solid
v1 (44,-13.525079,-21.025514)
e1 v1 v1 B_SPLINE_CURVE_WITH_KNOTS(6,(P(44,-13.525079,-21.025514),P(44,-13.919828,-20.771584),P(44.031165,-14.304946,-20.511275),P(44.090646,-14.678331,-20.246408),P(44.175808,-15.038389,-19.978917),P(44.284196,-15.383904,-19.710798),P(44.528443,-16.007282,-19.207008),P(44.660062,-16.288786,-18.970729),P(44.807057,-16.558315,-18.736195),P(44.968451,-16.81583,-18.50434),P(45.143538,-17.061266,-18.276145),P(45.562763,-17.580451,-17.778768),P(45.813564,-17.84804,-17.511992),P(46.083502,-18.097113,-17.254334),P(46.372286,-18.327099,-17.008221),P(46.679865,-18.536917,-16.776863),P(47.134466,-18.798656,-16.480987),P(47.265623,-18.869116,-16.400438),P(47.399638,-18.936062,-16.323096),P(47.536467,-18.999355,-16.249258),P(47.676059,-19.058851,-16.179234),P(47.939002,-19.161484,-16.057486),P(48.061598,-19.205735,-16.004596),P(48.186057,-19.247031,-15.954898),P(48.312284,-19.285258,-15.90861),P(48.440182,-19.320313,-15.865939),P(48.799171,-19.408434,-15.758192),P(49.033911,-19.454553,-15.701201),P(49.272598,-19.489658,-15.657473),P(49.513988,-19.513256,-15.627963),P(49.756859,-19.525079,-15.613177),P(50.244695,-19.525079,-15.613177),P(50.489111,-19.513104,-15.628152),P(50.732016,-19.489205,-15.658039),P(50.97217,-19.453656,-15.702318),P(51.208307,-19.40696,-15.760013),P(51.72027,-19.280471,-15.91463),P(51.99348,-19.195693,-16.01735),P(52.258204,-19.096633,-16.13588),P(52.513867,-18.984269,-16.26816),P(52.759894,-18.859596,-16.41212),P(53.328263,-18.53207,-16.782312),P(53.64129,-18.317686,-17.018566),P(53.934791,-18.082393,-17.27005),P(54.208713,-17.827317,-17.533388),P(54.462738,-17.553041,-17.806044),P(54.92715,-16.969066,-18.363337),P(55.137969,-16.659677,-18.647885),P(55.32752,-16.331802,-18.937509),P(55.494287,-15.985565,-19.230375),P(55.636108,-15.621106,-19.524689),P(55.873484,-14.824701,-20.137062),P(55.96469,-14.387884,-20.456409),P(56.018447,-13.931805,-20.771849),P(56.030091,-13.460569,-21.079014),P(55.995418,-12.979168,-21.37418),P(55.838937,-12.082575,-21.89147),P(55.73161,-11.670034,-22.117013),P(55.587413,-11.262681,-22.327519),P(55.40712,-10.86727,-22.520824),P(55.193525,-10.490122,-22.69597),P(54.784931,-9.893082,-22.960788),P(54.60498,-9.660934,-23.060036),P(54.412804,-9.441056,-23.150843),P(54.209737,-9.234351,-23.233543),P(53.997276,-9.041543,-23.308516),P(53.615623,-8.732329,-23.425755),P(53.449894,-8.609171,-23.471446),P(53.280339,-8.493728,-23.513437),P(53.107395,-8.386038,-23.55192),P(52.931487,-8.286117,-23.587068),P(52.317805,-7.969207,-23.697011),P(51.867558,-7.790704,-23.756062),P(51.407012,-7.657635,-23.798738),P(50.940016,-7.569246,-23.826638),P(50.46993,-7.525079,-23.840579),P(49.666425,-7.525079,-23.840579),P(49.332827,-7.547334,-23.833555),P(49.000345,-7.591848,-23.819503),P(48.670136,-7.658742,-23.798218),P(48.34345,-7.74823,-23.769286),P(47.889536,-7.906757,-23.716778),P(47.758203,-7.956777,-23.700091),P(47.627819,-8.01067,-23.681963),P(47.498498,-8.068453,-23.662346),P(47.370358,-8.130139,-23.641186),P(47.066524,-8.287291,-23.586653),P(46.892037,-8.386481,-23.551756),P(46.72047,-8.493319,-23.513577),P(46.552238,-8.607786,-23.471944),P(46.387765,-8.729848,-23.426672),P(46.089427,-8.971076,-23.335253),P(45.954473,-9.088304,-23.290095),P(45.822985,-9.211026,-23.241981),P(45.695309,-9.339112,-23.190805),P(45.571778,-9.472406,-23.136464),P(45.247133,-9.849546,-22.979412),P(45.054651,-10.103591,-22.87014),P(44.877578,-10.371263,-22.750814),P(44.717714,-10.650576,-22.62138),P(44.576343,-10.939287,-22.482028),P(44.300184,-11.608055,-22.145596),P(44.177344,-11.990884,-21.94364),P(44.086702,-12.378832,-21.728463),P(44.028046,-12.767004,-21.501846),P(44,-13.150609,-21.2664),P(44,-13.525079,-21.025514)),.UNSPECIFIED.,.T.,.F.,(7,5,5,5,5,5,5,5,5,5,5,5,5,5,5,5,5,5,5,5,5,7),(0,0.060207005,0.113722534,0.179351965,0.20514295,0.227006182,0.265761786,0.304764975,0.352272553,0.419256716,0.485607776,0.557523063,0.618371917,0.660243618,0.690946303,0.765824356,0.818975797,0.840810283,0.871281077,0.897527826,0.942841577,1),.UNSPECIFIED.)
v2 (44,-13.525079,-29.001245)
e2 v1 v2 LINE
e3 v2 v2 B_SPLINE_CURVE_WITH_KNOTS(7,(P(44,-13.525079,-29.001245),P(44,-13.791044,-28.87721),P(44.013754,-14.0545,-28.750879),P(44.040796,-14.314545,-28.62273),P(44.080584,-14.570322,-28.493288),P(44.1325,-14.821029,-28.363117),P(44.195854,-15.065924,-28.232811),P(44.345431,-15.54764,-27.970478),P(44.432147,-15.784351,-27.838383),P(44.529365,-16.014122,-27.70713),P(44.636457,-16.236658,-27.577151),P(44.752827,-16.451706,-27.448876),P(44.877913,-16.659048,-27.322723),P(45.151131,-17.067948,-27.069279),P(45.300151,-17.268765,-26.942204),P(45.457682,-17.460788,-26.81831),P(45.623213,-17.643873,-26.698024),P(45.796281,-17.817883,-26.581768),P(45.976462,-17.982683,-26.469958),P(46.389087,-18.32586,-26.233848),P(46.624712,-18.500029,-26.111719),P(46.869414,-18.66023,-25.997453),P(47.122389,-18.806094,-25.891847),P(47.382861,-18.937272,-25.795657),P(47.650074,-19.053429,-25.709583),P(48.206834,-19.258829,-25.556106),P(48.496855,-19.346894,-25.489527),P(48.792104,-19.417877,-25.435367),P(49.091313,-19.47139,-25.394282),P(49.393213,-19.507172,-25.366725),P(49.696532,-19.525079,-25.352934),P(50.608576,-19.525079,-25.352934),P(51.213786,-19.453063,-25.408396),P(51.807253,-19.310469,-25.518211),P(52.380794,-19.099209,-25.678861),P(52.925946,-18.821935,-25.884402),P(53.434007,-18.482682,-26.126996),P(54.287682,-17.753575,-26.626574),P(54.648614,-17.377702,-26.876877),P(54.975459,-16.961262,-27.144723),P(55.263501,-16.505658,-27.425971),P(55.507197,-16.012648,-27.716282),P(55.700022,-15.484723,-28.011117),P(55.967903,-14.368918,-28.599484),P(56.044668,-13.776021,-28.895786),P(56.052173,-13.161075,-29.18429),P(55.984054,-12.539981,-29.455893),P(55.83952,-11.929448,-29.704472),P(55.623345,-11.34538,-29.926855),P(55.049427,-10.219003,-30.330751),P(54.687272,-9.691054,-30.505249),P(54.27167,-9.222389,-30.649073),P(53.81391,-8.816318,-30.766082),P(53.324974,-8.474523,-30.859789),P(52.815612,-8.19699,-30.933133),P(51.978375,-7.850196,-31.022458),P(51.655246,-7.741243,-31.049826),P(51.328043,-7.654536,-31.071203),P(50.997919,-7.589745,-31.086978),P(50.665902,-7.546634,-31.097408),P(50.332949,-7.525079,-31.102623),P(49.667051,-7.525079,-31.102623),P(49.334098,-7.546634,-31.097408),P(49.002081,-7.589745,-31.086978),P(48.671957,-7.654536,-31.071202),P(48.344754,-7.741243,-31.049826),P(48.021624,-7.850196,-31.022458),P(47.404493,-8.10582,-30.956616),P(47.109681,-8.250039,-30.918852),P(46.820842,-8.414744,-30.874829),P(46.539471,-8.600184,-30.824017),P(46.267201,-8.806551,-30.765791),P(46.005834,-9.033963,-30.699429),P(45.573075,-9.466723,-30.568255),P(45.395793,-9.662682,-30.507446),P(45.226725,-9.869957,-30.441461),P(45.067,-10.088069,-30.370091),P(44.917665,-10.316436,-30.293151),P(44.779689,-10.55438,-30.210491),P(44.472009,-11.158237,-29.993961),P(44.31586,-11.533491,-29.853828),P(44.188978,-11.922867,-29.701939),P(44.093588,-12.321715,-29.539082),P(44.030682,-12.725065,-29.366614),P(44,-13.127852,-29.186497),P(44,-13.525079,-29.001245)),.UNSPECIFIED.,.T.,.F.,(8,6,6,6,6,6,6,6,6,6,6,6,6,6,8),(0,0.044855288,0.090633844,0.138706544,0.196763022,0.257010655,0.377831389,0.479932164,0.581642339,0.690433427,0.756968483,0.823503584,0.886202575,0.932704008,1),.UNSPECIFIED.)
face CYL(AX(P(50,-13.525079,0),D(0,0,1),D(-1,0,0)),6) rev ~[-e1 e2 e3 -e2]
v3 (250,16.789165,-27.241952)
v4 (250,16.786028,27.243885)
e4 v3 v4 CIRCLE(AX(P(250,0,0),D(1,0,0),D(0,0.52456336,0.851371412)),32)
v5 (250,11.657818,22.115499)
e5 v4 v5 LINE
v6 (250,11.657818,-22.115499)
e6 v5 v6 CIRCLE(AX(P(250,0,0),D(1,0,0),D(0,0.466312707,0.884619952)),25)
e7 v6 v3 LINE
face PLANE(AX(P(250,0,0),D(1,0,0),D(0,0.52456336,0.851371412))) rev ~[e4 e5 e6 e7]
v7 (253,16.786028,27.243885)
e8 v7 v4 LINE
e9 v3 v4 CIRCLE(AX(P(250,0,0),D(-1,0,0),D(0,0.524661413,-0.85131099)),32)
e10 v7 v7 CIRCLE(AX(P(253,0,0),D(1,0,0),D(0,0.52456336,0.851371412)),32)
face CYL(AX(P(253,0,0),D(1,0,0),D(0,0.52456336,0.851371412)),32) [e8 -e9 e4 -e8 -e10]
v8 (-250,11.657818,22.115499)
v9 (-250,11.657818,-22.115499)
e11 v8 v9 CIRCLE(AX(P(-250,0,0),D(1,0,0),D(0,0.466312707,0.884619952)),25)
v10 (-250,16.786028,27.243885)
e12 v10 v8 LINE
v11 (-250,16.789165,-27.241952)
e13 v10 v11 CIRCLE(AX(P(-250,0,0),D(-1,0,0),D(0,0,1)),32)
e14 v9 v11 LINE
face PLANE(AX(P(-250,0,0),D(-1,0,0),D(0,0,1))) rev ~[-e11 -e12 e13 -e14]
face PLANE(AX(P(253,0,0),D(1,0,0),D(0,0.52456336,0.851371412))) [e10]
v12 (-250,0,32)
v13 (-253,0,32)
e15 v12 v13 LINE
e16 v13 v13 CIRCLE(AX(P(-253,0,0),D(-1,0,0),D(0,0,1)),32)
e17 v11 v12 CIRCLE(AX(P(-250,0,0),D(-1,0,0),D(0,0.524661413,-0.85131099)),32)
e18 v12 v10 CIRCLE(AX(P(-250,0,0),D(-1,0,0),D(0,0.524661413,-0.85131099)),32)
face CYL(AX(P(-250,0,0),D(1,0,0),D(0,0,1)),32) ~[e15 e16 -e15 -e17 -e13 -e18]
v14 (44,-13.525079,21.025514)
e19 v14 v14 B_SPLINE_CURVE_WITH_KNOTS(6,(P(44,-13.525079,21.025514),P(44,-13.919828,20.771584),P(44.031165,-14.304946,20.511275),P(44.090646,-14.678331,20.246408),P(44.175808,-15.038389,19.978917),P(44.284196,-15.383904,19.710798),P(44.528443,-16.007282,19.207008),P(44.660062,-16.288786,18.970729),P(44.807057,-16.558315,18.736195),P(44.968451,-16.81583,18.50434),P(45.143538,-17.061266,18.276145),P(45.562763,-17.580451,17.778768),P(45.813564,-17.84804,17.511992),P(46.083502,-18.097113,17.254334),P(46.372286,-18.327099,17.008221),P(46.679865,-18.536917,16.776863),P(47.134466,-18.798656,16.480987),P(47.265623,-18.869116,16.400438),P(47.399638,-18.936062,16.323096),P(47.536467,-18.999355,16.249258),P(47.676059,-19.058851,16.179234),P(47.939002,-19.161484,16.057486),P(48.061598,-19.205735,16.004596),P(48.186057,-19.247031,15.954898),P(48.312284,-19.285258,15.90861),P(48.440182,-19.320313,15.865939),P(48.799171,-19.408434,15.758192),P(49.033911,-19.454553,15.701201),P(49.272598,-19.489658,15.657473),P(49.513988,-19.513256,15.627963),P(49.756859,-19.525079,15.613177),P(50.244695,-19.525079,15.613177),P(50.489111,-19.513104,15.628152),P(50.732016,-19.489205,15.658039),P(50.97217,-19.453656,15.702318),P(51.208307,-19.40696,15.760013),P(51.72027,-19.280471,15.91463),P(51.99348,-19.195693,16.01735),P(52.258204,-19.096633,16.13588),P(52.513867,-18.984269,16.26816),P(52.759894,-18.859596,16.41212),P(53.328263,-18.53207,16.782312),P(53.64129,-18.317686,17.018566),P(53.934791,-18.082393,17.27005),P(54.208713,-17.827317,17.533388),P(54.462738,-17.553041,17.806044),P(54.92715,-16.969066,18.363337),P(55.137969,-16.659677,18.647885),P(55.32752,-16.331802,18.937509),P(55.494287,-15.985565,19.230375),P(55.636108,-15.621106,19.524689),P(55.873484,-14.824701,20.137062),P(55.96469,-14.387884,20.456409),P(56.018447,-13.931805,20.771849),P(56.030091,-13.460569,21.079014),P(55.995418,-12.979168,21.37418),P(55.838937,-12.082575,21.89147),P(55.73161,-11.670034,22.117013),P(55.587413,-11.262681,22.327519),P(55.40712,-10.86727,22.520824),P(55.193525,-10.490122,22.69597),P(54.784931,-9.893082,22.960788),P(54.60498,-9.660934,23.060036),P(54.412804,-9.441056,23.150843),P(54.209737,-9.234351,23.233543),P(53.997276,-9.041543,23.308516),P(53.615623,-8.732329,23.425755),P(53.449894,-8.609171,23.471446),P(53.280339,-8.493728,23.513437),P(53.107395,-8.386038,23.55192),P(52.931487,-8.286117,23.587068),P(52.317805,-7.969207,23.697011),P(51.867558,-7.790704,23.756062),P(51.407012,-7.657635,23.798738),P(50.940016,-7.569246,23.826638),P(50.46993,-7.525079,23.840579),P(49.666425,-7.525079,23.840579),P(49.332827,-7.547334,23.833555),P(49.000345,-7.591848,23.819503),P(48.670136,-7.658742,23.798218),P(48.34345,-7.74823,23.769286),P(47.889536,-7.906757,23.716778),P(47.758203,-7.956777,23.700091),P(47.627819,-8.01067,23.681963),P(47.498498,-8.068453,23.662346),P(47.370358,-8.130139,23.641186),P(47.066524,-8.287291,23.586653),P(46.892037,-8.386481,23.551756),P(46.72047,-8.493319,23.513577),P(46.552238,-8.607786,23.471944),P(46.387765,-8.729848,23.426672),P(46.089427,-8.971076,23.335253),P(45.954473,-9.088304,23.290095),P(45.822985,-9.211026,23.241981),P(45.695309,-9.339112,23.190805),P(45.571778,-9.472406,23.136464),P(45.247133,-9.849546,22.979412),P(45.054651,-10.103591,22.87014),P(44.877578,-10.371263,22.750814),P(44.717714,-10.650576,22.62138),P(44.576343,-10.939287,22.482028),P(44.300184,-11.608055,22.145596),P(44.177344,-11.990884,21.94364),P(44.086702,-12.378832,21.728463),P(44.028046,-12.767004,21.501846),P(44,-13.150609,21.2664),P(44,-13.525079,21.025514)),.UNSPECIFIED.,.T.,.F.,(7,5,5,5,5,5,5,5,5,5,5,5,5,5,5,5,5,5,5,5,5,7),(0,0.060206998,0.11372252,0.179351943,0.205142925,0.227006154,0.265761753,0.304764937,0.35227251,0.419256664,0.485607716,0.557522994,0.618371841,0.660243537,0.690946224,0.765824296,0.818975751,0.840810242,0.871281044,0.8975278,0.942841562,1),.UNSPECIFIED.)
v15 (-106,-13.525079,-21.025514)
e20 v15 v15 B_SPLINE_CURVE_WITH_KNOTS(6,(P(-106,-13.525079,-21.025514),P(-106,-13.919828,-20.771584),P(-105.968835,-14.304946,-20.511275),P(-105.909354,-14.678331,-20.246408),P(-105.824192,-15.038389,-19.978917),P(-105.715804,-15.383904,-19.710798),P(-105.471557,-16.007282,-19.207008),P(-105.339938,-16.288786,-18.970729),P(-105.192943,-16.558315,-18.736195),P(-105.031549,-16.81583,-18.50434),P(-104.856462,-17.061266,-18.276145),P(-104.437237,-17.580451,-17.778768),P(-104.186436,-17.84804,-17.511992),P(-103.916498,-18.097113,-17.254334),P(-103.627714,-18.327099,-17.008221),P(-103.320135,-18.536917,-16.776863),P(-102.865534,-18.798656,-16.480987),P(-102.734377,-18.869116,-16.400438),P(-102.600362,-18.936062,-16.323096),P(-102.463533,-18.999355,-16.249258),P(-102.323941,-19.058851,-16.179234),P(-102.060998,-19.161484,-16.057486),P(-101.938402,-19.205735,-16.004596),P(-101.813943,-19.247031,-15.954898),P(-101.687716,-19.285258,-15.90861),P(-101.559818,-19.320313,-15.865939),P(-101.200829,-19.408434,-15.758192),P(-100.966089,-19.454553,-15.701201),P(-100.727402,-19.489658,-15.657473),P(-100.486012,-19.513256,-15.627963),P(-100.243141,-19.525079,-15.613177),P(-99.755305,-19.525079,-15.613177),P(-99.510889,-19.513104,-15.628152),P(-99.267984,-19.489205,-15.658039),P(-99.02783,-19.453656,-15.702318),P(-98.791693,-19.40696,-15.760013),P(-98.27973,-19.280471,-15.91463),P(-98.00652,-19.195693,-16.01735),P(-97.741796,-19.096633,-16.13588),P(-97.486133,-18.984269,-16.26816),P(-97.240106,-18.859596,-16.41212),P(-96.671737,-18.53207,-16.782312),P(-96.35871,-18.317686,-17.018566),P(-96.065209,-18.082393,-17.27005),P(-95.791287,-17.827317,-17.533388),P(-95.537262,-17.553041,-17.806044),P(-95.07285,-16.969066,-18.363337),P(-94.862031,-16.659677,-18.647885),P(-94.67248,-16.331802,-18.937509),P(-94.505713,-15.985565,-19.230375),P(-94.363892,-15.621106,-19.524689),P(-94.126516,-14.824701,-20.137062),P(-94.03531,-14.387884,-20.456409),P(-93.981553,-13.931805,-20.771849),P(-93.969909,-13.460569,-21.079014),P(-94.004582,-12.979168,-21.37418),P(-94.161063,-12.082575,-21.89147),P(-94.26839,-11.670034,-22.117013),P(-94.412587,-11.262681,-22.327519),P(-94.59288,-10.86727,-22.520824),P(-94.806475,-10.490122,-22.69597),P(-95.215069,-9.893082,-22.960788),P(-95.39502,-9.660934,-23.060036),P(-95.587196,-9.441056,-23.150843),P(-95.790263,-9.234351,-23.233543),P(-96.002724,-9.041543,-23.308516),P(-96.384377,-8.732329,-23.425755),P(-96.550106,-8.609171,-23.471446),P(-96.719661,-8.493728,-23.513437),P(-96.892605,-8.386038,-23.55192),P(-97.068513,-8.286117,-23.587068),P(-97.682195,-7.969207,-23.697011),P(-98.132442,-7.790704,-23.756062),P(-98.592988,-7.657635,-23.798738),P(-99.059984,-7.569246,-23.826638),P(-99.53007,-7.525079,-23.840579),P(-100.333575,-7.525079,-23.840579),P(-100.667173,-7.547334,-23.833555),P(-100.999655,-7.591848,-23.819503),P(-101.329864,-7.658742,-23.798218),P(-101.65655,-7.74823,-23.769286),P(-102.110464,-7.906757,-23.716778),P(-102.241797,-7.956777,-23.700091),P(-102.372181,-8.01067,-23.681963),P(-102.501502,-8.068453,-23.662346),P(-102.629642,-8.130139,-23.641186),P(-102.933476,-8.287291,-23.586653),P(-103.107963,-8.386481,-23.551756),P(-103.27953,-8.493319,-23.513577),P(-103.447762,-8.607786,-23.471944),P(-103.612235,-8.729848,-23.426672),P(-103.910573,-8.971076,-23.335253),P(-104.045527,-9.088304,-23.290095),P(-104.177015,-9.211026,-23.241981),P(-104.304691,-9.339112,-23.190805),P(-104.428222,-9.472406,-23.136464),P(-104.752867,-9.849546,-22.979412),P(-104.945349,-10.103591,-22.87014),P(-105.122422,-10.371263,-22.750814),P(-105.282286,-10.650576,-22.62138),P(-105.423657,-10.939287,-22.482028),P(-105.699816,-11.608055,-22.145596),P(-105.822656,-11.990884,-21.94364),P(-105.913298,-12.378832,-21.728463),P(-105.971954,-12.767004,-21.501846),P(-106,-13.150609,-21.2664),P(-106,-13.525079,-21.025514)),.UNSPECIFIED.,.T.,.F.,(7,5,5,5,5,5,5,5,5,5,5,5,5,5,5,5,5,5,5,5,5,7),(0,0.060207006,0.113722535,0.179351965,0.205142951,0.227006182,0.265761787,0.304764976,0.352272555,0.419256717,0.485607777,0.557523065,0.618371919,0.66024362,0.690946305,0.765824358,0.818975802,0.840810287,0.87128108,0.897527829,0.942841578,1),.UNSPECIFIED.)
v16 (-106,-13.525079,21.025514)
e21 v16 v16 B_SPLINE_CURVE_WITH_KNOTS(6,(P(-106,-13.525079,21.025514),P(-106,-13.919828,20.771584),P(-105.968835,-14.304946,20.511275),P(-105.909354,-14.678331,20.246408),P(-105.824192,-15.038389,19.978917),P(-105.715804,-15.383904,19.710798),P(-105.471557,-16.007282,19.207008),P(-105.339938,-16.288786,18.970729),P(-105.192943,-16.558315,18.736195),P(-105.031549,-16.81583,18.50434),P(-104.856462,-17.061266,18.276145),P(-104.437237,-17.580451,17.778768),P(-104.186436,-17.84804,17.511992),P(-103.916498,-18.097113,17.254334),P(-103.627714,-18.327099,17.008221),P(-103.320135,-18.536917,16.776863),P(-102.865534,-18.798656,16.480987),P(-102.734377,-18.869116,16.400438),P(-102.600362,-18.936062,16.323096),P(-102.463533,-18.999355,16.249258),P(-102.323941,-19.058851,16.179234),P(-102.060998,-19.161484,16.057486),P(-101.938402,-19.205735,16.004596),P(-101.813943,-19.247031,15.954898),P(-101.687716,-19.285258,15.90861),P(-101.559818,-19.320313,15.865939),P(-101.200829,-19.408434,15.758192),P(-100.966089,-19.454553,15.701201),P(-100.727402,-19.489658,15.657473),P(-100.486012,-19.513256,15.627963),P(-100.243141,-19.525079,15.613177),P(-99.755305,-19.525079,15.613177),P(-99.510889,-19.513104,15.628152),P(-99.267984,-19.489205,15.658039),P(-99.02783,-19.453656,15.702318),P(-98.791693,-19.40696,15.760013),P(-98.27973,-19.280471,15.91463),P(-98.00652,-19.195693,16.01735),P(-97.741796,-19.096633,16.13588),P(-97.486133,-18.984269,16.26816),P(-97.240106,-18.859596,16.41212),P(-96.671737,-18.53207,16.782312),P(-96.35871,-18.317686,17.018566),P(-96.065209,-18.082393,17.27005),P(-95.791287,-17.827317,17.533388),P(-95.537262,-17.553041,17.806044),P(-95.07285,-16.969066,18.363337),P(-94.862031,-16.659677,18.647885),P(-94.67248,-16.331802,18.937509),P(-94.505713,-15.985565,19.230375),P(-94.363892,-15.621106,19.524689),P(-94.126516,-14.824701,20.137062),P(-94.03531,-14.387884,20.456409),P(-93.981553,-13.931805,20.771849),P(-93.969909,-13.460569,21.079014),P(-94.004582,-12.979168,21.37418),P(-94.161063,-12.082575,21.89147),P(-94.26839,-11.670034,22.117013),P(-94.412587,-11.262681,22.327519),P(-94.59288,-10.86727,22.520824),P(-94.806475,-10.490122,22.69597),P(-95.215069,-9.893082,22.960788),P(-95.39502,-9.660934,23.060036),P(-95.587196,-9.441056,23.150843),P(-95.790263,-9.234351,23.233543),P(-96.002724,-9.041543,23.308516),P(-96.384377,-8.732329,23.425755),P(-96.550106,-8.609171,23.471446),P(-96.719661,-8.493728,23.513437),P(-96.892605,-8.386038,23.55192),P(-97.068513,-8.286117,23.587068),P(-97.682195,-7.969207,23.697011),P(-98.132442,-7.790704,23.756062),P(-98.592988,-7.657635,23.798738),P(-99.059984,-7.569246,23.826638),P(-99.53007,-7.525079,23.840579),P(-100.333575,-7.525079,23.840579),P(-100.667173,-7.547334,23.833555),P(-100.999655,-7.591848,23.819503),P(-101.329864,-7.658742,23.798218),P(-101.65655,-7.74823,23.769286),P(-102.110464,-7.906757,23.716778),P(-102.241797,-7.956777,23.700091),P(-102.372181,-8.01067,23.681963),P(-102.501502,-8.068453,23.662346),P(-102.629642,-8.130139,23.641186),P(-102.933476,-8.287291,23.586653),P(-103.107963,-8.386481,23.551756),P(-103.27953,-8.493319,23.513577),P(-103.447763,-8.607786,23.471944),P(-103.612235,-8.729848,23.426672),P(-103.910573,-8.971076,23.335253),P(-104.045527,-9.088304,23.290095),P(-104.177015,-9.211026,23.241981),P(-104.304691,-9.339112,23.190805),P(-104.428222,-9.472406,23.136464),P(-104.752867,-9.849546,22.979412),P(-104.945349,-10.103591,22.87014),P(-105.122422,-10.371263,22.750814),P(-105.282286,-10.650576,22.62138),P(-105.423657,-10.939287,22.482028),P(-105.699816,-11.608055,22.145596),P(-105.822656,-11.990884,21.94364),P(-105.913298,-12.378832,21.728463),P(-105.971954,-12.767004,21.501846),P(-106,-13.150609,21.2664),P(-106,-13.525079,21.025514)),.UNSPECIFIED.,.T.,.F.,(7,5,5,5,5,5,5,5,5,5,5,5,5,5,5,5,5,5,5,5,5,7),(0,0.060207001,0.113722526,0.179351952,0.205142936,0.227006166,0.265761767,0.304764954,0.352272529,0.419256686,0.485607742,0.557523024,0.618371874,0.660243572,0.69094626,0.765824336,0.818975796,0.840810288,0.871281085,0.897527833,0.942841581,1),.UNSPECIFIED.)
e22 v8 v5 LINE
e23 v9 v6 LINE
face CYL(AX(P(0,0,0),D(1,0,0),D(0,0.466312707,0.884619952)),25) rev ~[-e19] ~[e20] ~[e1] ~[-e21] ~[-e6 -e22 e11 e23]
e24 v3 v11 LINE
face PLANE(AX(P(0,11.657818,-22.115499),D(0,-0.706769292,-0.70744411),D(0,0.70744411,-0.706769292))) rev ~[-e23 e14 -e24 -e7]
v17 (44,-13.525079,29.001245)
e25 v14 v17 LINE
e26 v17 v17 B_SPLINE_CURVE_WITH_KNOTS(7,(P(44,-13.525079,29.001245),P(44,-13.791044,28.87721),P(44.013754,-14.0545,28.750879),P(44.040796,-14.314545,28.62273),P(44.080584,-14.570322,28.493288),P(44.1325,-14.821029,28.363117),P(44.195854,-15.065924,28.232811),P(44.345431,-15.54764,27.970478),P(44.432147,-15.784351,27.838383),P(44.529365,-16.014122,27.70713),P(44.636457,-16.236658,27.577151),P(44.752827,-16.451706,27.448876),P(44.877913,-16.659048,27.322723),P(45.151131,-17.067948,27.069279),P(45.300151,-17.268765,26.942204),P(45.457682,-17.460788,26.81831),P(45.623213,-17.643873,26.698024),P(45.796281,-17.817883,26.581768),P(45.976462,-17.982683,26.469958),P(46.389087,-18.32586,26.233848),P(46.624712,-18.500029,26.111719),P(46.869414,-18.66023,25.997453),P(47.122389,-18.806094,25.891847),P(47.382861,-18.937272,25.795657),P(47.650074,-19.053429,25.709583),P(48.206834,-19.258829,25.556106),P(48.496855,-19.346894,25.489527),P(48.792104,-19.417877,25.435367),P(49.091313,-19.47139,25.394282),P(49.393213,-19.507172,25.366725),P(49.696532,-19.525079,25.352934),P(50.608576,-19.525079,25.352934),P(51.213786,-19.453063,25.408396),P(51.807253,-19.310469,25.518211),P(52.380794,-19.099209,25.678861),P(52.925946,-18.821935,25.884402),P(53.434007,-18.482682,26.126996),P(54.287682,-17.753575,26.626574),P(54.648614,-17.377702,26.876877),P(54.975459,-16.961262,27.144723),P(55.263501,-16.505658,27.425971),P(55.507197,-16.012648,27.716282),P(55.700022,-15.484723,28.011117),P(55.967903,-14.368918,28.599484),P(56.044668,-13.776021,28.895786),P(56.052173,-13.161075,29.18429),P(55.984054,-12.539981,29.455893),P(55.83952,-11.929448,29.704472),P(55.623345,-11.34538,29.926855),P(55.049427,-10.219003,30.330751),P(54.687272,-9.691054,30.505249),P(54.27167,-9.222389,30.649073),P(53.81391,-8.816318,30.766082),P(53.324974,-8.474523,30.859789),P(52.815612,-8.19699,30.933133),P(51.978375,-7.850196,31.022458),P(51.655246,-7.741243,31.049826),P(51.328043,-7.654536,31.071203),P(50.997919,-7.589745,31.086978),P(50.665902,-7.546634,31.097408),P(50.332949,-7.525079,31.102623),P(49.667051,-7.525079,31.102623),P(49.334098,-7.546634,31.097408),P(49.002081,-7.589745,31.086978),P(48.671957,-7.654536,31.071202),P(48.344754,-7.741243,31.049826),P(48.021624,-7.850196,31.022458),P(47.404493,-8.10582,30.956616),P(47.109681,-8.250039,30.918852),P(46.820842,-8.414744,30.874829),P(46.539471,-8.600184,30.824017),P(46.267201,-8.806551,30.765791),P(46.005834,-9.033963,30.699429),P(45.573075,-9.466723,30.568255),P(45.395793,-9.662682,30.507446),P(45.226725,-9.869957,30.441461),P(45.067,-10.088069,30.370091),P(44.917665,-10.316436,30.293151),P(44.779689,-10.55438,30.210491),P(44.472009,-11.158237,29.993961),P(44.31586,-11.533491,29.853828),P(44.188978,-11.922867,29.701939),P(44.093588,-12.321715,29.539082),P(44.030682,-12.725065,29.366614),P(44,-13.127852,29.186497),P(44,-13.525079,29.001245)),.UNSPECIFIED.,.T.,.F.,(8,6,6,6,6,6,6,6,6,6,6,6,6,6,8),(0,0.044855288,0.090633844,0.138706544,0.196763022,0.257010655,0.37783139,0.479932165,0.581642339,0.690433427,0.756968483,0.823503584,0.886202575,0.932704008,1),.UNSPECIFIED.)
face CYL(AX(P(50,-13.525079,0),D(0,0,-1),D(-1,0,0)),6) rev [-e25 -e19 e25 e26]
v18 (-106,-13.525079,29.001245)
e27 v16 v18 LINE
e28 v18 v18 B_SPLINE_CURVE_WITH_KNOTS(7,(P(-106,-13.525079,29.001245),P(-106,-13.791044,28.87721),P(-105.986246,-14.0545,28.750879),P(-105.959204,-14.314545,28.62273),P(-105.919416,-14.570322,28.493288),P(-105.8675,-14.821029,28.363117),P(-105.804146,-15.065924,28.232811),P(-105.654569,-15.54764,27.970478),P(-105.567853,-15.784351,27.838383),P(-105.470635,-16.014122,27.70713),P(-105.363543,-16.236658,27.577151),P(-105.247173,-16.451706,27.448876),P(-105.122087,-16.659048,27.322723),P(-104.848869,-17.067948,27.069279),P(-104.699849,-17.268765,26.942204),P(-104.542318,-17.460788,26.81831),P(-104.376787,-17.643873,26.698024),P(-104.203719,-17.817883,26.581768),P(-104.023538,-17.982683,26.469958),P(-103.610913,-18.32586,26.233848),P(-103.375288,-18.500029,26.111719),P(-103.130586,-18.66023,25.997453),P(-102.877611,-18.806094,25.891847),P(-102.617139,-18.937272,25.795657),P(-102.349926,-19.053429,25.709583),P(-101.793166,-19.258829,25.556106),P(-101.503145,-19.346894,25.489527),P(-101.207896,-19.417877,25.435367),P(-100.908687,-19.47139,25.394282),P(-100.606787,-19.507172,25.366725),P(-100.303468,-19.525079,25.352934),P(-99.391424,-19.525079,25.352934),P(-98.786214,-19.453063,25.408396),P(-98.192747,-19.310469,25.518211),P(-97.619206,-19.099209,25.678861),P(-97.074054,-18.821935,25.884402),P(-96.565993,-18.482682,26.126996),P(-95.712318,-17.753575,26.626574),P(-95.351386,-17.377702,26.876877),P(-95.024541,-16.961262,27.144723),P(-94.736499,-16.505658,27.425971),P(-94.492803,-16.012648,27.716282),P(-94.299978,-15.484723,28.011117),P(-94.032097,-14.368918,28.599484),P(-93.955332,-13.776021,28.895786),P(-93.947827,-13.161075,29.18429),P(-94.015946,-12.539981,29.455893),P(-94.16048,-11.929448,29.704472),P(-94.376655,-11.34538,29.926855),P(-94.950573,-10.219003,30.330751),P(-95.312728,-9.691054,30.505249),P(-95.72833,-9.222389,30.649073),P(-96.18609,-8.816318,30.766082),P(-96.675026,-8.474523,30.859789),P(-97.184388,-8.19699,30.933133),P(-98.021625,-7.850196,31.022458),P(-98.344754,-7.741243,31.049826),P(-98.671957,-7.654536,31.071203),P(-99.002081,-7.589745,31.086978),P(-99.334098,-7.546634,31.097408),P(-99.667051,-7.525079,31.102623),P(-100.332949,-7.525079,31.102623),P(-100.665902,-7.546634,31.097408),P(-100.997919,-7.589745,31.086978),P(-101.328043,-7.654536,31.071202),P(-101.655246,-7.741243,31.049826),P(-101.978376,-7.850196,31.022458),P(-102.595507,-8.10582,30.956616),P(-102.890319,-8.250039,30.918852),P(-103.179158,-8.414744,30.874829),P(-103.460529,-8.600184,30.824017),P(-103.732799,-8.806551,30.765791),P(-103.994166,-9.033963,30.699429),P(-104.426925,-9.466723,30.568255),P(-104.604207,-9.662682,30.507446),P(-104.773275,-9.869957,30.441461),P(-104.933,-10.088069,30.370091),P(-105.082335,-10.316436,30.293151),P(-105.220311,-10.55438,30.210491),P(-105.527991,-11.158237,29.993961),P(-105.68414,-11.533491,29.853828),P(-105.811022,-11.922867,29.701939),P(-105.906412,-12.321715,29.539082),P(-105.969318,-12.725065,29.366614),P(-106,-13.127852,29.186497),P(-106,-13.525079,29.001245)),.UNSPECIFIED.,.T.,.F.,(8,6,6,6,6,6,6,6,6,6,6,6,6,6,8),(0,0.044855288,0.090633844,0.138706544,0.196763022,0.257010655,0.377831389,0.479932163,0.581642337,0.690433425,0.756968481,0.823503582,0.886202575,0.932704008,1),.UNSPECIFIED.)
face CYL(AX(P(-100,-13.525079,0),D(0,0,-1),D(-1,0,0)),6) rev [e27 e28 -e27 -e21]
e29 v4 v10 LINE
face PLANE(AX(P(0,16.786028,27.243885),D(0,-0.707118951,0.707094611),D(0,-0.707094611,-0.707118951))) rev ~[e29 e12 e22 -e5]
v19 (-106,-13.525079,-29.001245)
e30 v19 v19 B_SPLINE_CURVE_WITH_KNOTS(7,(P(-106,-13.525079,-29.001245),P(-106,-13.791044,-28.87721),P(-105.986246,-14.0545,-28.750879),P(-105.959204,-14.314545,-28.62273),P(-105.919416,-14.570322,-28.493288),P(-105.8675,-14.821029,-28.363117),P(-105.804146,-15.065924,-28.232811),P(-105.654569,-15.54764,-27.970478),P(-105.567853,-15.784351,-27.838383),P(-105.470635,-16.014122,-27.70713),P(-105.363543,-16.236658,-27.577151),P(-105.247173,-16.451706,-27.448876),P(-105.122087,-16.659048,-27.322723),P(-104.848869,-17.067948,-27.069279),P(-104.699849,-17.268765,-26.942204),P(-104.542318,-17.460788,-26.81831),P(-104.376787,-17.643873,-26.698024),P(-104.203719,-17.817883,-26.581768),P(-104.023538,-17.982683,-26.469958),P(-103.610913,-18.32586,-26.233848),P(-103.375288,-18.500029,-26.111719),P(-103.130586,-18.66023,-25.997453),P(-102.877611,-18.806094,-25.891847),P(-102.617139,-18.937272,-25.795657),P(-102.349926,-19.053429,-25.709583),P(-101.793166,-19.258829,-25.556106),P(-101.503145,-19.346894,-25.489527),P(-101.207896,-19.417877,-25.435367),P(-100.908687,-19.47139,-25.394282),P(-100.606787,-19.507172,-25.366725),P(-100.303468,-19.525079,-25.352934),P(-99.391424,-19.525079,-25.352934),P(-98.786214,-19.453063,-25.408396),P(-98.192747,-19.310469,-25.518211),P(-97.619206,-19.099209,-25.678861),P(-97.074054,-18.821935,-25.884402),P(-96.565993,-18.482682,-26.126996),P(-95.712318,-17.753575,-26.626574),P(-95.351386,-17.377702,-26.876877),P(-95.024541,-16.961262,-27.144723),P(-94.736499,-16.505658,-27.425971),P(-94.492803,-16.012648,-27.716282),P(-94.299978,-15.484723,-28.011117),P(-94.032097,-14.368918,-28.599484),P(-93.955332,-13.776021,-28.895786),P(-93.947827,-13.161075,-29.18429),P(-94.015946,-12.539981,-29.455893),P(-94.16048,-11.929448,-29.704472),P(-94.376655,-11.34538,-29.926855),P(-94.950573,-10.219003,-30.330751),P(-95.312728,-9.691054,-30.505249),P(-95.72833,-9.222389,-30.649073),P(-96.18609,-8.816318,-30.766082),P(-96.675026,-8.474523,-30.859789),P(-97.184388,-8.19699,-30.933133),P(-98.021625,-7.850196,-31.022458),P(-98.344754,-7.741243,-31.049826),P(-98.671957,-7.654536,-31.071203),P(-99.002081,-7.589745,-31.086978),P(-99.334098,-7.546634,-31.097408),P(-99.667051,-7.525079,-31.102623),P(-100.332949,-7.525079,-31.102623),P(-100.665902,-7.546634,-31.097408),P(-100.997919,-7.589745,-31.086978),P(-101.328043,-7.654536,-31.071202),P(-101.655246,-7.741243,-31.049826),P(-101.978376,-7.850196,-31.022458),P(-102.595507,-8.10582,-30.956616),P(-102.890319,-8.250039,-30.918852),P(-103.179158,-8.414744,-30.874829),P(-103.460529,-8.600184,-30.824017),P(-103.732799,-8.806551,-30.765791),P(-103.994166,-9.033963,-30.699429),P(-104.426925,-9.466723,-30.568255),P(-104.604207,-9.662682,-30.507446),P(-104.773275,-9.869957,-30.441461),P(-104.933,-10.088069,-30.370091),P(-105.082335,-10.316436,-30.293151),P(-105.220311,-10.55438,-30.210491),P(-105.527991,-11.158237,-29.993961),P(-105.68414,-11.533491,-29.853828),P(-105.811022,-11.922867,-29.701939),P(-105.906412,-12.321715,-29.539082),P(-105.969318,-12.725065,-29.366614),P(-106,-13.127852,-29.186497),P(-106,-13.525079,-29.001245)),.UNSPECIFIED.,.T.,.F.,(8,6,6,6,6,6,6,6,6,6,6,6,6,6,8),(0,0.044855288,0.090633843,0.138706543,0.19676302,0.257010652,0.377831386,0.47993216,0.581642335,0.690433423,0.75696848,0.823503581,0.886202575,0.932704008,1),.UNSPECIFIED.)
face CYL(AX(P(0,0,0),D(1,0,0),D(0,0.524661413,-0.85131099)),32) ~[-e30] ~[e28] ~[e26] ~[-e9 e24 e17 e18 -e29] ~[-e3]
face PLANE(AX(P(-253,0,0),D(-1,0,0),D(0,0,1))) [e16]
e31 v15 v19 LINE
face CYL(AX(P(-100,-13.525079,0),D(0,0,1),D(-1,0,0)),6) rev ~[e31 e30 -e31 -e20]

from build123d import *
from build123d.topology import SkipClean

# Parameters (mm, degrees)
RESSALTO_EXTRUS_O1_DEPTH          = 250
CORTE_EXTRUS_O2_REACH             = 256.063
ESBO_O4_R                         = 6
CORTE_EXTRUS_O2_DIRECTION_2_REACH = 256.063
RESSALTO_EXTRUS_O2_START          = 3
ESBO_O5_R                         = 32
RESSALTO_EXTRUS_O2_DEPTH          = 3
ESBO_O6_R                         = 32
RESSALTO_EXTRUS_O3_DEPTH          = 3


with BuildPart() as part:
    # Esboço1 → Ressalto-extrusão1 (new, symmetric)
    with BuildSketch(Plane(origin=(0, 0, 0), x_dir=(0, 0, -1), z_dir=(1, 0, 0))):
        with BuildLine():
            Line((22.115498803, 11.657817664), (27.241951671, 16.789165231))
            ThreePointArc((27.241951671, 16.789165231), (0.001842805, -31.999999947), (-27.243885188, 16.786027518))
            Line((-27.243885188, 16.786027518), (-22.115498803, 11.657817664))
            ThreePointArc((-22.115498803, 11.657817664), (0, -25), (22.115498803, 11.657817664))
        make_face()
    extrude(amount=RESSALTO_EXTRUS_O1_DEPTH, both=True)

    # Esboço4 → Corte-extrusão2 (cut, up to next)
    with BuildSketch(Plane.XY, mode=Mode.PRIVATE) as corte_extrus_o2_sk1:
        with Locations(Location((50, -13.525079078, 0), (0, 0, 180))):
            Circle(ESBO_O4_R)
    corte_extrus_o2_tool1 = extrude(corte_extrus_o2_sk1.sketch, amount=-CORTE_EXTRUS_O2_REACH, mode=Mode.PRIVATE) & part.part
    # Esboço4 → Corte-extrusão2 (cut, up to next)
    with BuildSketch(Plane.XY, mode=Mode.PRIVATE) as corte_extrus_o2_sk2:
        with Locations(Location((-100, -13.525079078, 0), (0, 0, 180))):
            Circle(ESBO_O4_R)
    corte_extrus_o2_tool2 = extrude(corte_extrus_o2_sk2.sketch, amount=-CORTE_EXTRUS_O2_REACH, mode=Mode.PRIVATE) & part.part
    add(corte_extrus_o2_tool1.solids().sort_by_distance((50, -13.525079, 0))[0], mode=Mode.SUBTRACT)
    add(corte_extrus_o2_tool2.solids().sort_by_distance((-100, -13.525079, 0))[0], mode=Mode.SUBTRACT)

    # Esboço4 → Corte-extrusão2 direction 2 (cut, up to next)
    with BuildSketch(Plane.XY, mode=Mode.PRIVATE) as corte_extrus_o2_direction_2_sk1:
        with Locations(Location((50, -13.525079078, 0), (0, 0, 180))):
            Circle(ESBO_O4_R)
    corte_extrus_o2_direction_2_tool1 = extrude(corte_extrus_o2_direction_2_sk1.sketch, amount=CORTE_EXTRUS_O2_DIRECTION_2_REACH, mode=Mode.PRIVATE) & part.part
    # Esboço4 → Corte-extrusão2 direction 2 (cut, up to next)
    with BuildSketch(Plane.XY, mode=Mode.PRIVATE) as corte_extrus_o2_direction_2_sk2:
        with Locations(Location((-100, -13.525079078, 0), (0, 0, 180))):
            Circle(ESBO_O4_R)
    corte_extrus_o2_direction_2_tool2 = extrude(corte_extrus_o2_direction_2_sk2.sketch, amount=CORTE_EXTRUS_O2_DIRECTION_2_REACH, mode=Mode.PRIVATE) & part.part
    add(corte_extrus_o2_direction_2_tool1.solids().sort_by_distance((50, -13.525079, 0))[0], mode=Mode.SUBTRACT)
    add(corte_extrus_o2_direction_2_tool2.solids().sort_by_distance((-100, -13.525079, 0))[0], mode=Mode.SUBTRACT)

    # Esboço5 → Ressalto-extrusão2 (add)
    with SkipClean():  # the faces are left unmerged after this step: merging them gives an invalid solid
        with BuildSketch(Plane(origin=(250, 0, 0), x_dir=(0, 0, -1), z_dir=(1, 0, 0)).offset(RESSALTO_EXTRUS_O2_START)):
            with Locations(Location((0, 0, 0), (0, 0, 148.36114649))):
                Circle(ESBO_O5_R)
        extrude(amount=-RESSALTO_EXTRUS_O2_DEPTH)

    # Esboço6 → Ressalto-extrusão3 (add)
    with SkipClean():  # the faces are left unmerged after this step: merging them gives an invalid solid
        with BuildSketch(Plane.ZY.offset(250)):
            Circle(ESBO_O6_R)
        extrude(amount=RESSALTO_EXTRUS_O3_DEPTH)


solid = part.part
